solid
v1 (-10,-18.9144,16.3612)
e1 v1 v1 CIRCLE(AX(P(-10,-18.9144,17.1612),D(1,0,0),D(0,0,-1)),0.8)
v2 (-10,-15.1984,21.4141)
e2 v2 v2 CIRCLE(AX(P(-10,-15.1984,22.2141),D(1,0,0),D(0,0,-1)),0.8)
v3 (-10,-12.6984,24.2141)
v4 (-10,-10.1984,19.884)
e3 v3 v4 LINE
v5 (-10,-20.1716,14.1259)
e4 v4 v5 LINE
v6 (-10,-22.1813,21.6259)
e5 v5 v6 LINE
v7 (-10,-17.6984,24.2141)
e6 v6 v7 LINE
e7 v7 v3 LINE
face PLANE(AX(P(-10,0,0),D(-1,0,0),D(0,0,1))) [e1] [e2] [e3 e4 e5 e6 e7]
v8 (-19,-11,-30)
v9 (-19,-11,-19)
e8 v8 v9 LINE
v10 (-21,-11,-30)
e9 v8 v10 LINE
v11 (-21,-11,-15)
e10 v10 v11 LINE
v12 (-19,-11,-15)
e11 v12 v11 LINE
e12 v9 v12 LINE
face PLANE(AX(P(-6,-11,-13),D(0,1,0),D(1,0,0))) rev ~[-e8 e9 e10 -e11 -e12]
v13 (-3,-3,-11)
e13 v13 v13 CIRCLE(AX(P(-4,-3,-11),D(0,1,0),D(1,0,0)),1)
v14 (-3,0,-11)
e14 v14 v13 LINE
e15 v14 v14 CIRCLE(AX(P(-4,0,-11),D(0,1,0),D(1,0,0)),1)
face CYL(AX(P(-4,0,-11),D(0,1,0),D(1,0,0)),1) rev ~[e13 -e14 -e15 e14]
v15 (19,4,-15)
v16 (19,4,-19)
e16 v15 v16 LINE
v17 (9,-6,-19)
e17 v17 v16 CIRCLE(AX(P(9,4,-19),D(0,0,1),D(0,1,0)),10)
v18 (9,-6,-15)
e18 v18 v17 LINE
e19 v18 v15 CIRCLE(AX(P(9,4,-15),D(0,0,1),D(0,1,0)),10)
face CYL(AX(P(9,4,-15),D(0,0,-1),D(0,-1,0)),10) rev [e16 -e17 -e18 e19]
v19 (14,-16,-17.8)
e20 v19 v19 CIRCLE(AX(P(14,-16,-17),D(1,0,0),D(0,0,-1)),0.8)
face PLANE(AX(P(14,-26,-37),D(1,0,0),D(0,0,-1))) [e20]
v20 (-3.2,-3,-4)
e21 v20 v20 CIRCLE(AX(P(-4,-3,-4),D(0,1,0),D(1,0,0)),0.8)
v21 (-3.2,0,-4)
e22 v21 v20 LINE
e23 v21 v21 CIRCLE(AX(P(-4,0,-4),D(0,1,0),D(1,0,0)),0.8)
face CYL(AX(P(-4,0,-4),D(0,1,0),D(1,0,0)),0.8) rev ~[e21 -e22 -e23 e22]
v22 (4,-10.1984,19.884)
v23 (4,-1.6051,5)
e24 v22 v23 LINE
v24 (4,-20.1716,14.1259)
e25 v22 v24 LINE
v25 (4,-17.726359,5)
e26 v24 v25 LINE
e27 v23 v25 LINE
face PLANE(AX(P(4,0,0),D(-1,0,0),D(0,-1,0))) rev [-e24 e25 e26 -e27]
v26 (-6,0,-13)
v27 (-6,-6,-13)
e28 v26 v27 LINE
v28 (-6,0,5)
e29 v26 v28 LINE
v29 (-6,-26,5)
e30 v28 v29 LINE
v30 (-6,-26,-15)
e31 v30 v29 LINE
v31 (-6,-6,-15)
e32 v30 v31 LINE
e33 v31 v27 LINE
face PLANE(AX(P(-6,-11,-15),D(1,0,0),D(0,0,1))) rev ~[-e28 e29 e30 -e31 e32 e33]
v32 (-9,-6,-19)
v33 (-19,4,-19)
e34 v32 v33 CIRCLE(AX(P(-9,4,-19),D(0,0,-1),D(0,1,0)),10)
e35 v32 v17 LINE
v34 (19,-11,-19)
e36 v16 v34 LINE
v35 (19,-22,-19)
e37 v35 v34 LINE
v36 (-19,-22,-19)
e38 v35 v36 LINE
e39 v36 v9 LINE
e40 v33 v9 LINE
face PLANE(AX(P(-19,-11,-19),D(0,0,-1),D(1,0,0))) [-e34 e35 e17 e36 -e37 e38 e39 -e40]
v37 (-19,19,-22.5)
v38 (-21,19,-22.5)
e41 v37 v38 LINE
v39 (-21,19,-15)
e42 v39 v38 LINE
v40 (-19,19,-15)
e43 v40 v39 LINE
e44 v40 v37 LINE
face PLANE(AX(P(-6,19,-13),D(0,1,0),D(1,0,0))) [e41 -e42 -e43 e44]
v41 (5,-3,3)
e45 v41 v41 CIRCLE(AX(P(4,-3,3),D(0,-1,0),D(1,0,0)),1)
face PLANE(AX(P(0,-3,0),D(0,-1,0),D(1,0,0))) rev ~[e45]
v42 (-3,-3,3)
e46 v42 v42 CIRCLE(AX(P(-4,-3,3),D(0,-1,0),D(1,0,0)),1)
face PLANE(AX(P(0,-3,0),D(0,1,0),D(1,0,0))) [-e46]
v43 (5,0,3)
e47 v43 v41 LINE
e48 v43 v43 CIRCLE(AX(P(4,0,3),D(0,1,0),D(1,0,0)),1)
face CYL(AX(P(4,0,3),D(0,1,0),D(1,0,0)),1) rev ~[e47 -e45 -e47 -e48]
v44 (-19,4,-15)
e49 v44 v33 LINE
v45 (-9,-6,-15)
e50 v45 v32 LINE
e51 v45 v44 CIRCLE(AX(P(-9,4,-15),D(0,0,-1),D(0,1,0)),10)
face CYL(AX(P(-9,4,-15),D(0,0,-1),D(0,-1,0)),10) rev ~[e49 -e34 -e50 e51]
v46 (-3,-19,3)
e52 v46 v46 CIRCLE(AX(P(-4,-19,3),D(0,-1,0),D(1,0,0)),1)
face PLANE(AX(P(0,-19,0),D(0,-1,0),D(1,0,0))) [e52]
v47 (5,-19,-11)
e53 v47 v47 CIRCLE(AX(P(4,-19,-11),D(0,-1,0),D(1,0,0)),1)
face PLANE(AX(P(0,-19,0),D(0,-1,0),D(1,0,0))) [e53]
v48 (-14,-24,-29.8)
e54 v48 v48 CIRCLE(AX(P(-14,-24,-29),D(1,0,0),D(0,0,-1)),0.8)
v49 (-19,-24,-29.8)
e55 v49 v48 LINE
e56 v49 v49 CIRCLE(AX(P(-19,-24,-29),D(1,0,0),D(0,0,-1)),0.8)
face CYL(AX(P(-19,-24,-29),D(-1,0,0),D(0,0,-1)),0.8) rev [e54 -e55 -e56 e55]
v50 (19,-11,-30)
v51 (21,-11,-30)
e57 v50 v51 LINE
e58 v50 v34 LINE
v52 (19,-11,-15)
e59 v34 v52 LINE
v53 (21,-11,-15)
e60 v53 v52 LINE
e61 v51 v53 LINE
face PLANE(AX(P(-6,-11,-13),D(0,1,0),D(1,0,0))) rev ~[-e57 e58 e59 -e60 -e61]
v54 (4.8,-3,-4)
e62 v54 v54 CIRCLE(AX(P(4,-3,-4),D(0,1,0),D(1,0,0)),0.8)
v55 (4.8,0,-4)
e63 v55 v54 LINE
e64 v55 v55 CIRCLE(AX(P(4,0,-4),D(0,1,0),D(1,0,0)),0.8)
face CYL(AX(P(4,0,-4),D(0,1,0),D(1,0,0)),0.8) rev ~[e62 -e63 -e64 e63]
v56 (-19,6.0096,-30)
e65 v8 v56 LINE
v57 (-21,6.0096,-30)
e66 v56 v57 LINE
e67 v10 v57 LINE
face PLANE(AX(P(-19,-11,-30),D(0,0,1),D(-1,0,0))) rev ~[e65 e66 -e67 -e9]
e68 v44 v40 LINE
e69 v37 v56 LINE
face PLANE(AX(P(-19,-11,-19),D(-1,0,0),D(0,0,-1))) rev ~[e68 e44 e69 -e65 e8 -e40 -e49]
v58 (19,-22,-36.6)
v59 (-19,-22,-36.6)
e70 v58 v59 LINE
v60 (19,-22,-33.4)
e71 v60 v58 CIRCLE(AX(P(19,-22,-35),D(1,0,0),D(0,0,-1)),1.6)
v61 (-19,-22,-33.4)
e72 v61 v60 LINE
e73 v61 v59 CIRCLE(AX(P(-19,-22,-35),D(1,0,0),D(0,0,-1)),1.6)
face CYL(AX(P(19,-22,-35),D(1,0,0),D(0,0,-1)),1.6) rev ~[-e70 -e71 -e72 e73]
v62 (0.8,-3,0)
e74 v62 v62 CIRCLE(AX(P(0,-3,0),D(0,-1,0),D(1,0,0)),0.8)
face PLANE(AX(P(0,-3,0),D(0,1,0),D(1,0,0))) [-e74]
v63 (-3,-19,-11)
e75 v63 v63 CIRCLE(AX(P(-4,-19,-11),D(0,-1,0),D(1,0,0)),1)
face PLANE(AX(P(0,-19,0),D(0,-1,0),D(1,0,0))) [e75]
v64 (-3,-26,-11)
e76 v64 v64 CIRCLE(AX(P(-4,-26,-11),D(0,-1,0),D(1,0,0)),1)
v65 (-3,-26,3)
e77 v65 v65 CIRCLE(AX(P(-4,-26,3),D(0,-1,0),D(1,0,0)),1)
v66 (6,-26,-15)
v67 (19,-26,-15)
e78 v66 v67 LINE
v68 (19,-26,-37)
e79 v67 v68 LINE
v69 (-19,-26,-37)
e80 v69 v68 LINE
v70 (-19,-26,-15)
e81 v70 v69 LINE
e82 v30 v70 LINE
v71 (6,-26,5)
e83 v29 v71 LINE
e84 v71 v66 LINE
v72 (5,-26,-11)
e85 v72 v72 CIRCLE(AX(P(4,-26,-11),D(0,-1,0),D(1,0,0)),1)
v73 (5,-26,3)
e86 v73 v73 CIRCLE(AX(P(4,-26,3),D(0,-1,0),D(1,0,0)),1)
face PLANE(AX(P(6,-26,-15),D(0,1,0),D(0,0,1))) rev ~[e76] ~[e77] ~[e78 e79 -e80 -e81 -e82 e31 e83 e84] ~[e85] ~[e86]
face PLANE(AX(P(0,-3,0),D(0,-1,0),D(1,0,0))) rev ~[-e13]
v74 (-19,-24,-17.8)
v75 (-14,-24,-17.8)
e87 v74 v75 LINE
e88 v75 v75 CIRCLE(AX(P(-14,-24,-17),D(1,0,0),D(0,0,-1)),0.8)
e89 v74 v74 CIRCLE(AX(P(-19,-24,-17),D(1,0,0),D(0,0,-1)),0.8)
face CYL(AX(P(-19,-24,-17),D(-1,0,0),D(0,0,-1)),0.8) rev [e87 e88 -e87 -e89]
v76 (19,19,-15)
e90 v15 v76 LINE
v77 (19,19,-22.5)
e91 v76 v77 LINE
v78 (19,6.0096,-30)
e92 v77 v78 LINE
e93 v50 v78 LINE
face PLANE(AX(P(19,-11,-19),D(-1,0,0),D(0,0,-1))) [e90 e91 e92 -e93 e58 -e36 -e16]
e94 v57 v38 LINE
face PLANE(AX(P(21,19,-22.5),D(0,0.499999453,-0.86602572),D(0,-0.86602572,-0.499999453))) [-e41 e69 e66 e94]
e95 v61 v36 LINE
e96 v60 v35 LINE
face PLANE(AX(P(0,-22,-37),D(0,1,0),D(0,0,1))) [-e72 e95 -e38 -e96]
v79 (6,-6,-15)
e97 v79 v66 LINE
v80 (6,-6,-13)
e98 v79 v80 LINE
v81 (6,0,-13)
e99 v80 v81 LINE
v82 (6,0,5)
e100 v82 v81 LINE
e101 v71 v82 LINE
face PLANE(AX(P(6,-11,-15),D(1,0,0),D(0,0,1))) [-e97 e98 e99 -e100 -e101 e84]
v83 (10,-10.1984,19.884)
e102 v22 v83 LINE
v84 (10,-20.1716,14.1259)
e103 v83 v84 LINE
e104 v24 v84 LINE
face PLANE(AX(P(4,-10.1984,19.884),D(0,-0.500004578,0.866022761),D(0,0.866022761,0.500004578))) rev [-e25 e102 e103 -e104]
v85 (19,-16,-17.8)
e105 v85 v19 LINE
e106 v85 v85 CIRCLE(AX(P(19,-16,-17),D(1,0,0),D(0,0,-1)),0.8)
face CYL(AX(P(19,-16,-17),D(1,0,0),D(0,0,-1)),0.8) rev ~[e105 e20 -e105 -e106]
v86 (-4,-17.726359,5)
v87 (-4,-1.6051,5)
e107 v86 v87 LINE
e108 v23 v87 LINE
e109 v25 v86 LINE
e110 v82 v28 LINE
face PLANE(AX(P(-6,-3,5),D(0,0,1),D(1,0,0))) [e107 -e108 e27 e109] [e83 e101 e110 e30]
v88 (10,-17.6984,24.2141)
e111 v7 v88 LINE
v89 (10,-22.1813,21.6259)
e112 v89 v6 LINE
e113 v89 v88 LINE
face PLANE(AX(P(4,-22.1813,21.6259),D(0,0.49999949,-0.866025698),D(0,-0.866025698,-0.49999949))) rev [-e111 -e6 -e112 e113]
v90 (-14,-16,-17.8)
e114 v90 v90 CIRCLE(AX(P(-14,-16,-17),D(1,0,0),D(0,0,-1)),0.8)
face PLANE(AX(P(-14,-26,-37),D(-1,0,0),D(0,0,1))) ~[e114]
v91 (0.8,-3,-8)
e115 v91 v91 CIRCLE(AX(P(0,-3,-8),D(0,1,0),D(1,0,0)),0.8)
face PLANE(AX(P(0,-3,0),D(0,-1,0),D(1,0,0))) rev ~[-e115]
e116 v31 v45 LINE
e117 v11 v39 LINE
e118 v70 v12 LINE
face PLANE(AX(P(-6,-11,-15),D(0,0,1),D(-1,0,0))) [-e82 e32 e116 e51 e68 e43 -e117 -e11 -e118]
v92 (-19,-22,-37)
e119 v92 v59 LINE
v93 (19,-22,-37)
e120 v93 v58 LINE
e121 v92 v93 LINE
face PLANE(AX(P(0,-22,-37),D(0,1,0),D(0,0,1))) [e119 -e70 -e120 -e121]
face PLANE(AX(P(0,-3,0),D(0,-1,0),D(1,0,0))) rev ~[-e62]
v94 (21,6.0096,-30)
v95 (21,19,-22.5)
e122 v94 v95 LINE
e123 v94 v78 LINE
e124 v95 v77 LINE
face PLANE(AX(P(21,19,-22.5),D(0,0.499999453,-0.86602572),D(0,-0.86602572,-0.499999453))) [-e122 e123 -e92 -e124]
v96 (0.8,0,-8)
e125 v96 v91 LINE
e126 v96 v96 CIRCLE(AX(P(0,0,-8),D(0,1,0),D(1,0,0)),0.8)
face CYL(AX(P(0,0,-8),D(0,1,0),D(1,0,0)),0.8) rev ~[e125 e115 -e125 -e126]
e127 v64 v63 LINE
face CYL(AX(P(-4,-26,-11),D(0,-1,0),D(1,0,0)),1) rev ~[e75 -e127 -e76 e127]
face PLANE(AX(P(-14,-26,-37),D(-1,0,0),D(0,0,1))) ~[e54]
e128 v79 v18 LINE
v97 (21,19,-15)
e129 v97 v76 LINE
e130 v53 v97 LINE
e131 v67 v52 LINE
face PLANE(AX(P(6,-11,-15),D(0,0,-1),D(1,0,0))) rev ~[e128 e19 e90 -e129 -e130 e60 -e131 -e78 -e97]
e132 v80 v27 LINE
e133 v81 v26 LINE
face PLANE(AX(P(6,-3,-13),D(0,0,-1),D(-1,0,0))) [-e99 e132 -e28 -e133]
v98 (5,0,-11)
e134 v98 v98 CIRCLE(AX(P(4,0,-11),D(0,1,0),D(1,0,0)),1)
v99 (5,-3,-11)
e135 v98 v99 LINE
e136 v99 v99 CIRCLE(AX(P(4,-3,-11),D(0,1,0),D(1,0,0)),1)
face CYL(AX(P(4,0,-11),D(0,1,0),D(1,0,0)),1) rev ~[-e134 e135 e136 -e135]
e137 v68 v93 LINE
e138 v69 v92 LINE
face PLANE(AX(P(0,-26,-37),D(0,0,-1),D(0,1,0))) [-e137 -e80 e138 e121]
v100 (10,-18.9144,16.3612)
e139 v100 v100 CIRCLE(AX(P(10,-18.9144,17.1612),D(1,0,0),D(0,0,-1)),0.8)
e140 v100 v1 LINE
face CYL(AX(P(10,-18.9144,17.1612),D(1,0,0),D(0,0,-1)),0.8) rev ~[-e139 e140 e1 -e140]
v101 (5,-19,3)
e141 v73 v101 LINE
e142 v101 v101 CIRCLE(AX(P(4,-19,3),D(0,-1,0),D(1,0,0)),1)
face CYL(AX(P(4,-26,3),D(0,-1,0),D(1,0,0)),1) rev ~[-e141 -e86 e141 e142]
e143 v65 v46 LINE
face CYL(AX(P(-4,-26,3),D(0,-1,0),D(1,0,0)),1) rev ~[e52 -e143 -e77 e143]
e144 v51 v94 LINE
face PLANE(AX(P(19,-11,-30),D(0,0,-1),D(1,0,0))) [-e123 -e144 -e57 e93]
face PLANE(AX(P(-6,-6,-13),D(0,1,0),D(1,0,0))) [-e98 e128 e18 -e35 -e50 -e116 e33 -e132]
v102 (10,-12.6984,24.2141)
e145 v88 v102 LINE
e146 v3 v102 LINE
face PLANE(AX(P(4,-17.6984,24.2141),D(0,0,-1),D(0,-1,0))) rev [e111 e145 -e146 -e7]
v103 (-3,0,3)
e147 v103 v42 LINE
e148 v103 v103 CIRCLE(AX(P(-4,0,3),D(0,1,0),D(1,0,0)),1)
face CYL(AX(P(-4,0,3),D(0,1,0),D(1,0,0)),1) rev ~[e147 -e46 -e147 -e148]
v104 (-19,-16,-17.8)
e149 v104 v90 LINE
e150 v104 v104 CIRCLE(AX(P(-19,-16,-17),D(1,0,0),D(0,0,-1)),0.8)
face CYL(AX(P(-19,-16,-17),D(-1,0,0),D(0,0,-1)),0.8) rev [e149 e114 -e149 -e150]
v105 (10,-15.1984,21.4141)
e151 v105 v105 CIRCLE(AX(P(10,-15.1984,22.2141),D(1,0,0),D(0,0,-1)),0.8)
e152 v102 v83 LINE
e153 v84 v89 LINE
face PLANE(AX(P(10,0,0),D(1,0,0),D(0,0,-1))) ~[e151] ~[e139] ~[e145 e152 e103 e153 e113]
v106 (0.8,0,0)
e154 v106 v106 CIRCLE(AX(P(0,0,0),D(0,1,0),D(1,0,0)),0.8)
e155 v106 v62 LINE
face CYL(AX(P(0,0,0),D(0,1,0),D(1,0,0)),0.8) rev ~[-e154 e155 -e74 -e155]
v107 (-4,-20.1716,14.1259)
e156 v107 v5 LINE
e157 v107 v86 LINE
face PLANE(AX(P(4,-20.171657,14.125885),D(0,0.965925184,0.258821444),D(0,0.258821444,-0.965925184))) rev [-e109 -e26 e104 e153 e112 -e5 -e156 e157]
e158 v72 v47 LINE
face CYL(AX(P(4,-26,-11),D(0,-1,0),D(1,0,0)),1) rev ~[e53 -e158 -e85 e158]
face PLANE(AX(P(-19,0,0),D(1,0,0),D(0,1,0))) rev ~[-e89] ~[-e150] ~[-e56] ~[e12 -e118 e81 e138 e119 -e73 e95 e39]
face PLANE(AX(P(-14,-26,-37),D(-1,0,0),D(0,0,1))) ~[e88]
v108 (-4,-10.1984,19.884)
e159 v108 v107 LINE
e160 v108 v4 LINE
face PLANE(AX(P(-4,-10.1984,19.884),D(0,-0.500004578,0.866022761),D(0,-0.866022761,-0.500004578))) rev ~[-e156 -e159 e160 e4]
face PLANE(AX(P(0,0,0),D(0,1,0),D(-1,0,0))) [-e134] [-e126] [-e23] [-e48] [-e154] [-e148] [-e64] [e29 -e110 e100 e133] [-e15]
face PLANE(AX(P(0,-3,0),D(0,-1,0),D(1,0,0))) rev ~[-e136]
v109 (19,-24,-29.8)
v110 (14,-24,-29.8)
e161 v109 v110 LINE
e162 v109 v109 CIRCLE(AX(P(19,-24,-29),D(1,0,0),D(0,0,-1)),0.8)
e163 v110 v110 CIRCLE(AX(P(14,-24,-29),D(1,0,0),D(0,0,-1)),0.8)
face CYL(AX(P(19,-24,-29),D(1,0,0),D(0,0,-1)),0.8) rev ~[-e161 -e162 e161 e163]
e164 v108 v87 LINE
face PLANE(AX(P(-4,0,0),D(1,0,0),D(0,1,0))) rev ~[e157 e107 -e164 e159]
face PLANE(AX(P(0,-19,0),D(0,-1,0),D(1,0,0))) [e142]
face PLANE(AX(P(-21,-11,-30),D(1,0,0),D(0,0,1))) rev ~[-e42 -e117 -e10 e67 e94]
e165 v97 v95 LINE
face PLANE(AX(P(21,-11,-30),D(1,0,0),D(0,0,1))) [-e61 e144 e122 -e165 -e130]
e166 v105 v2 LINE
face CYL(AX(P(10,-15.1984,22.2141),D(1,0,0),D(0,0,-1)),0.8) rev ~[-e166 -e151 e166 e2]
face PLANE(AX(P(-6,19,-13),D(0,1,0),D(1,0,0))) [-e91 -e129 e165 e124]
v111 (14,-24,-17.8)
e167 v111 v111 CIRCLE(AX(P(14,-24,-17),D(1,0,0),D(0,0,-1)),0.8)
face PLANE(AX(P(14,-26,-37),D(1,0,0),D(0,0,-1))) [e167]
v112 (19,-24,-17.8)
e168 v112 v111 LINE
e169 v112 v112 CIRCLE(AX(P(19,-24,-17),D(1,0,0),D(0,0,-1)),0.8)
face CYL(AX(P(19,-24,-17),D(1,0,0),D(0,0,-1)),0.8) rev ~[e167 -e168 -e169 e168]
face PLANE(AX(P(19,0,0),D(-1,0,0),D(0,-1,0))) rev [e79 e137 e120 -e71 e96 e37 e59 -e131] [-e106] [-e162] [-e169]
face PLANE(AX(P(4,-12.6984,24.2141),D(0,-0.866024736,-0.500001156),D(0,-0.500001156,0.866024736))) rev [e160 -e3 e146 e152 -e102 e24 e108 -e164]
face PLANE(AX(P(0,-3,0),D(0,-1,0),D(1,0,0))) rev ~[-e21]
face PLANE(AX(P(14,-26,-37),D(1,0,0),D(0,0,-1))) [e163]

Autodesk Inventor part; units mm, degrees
ref_plane "YZ Plane" through (0, 0, 0) normal (1, 0, 0) x (0, 1, 0)
ref_plane "XZ Plane" through (0, 0, 0) normal (0, 1, 0) x (-1, 0, 0)
ref_plane "XY Plane" through (0, 0, 0) normal (0, 0, 1) x (1, 0, 0)
sketch "スケッチ1" plane through (0, 0, 0) normal (0, 1, 0) x (-1, 0, 0)
  line L0 (-6, -13) -> (6, -13)
  line L1 (6, -13) -> (6, 13)
  line L2 (6, 13) -> (-6, 13)
  line L3 (-6, 13) -> (-6, -13)
  line L4 (-6, -13) -> (6, 13) construction
  line L5 (6, -13) -> (-6, 13) construction
  line L6 (6, 13) -> (-6, 13)
  line L7 (-6, 13) -> (-6, 5)
  line L8 (-6, 5) -> (6, 5)
  line L9 (6, 5) -> (6, 13)
  point P0 (0, 0)
  point P1 (0, 13)
  point P2 (-6, 13)
  point P3 (6, 5)
  dimension "d0" = 12
  dimension "d1" = 26
  dimension "d26" = 12
  dimension "d27" = 8
extrude "押し出し1" add sketch "スケッチ1" against normal blind 3 contours L3 L8 L1 L0
sketch "スケッチ5" plane through (0, 0, 0) normal (1, 0, 0) x (0, 1, 0)
  line L0 (-3, 5) -> (-3, -13) projected
  line L1 (-3, 5) -> (-3, 13)
  line L2 (-1.6051, 5) -> (-12.6984, 24.2141)
  line L3 (-12.6984, 24.2141) -> (-17.6984, 24.2141)
  line L4 (-16.3866, 0) -> (-3, 0)
  line L5 (0, 5) -> (-3, 5) projected
  line L6 (-17.6984, 24.2141) -> (-22.1813, 21.6259)
  line L7 (-22.1813, 21.6259) -> (-16.3866, 0)
  line L8 (-12.6984, 24.2141) -> (-8.3683, 26.7141) construction
  line L9 (-8.3683, 26.7141) -> (-7.6183, 25.4151) construction
  circle A0 centre (-7.6183, 25.4151) radius 1 construction
  line L10 (36.5, 48) -> (-6.3683, 23.25) construction
  line L11 (0, 13) -> (36.5, 13) construction
  line L12 (0, -13) -> (0, 5) projected
  line L13 (-3, 5) -> (-1.6051, 5)
  point P0 (0, 0)
  dimension "d28" = 8
  dimension "d29" = 120
  dimension "d31" = 5
  dimension "d32" = 5
  dimension "d35" = 5
  dimension "d36" = 150
  dimension "d37" = 75
  dimension "d47" = 5
  dimension "d48" = 1.5
  dimension "d49" = 2
  dimension "d50" = 2.5
  dimension "d51" = 49.5
  dimension "d53" = 8
  dimension "d54" = 36.5
  dimension "d55" = 35
extrude "押し出し5" add sketch "スケッチ5" against normal blind 4
sketch "スケッチ6" plane through (-4, 0, 0) normal (-1, 0, 0) x (0, 0, 1)
  line L0 (0, -3) -> (0, -16.3866) projected
  line L1 (0, -16.3866) -> (21.6259, -22.1813) projected
  line L2 (21.6259, -22.1813) -> (24.2141, -17.6984) projected
  line L3 (24.2141, -17.6984) -> (24.2141, -12.6984) projected
  line L4 (24.2141, -12.6984) -> (5, -1.6051) projected
  line L5 (0, -3) -> (5, -3) projected
  line L6 (19.884, -10.1984) -> (14.1259, -20.1716)
  line L7 (24.2141, -12.6984) -> (5.604, -1.9538) projected
  line L8 (5, -3) -> (5, -1.6051) projected
  point P0 (0, 0)
  dimension "d38" = 5
extrude "押し出し6" add sketch "スケッチ6" along normal blind 6 contours L6 L4 L3 L2 L1
mirror "ミラー3" about plane through (0, -11.8932, 12.1071) normal (1, 0, 0) of "押し出し5", "押し出し6"
sketch "スケッチ7" plane through (0, 0, 0) normal (0, 1, 0) x (1, 0, 0)
  circle A0 centre (4, -3) radius 1 projected
  circle A1 centre (-4, 11) radius 1 projected
  circle A2 centre (0, 0) radius 0.8 projected
  circle A3 centre (0, 8) radius 0.8 projected
  circle A4 centre (-4, 4) radius 0.8 projected
  circle A5 centre (4, 4) radius 0.8 projected
  circle A6 centre (4, 11) radius 1 projected
  circle A7 centre (-4, -3) radius 1 projected
  line L0 (6, -8) -> (6, -10) projected
  line L1 (30, -13) -> (9, -13) projected
  line L2 (33, -9.25) -> (33, -10) projected
  arc A8 (30, 6.25) -> (30, -6.25) centre (30, 0) ccw projected
  line L3 (33, 10) -> (33, 9.25) projected
  line L4 (-30, 13) -> (30, 13) projected
  line L5 (-33, -10) -> (-33, -9.25) projected
  arc A9 (-30, -6.25) -> (-30, 6.25) centre (-30, 0) ccw projected
  line L6 (-33, 9.25) -> (-33, 10) projected
  line L7 (-9, -13) -> (-30, -13) projected
  line L8 (-6, -10) -> (-6, -8) projected
  line L9 (-3, -5) -> (3, -5) projected
  line L10 (21.75, 7.5) -> (21.75, -7.5) projected
  line L11 (18.75, -10.5) -> (14, -10.5) projected
  line L12 (11, -7.5) -> (11, 7.5) projected
  line L13 (14, 10.5) -> (18.75, 10.5) projected
  circle A10 centre (9, 10.5) radius 0.85 projected
  circle A11 centre (30, -10.5) radius 0.85 projected
  circle A12 centre (-30, -10.5) radius 0.85 projected
  circle A13 centre (-9, 10.5) radius 0.85 projected
  circle A14 centre (-30, 10.5) radius 0.85 projected
  circle A15 centre (-9, -10.5) radius 0.85 projected
  circle A16 centre (9, -10.5) radius 0.85 projected
  circle A17 centre (30, 10.5) radius 0.85 projected
  line L14 (-11, 7.5) -> (-11, -7.5) projected
  line L15 (-14, -10.5) -> (-18.75, -10.5) projected
  line L16 (-21.75, -7.5) -> (-21.75, 7.5) projected
  line L17 (-18.75, 10.5) -> (-14, 10.5) projected
  arc A18 (-30, 13) -> (-33, 10) centre (-30, 10) ccw projected
  arc A19 (-33, 9.25) -> (-30, 6.25) centre (-30, 9.25) ccw projected
  arc A20 (-30, -6.25) -> (-33, -9.25) centre (-30, -9.25) ccw projected
  arc A21 (-33, -10) -> (-30, -13) centre (-30, -10) ccw projected
  arc A22 (-9, -13) -> (-6, -10) centre (-9, -10) ccw projected
  arc A23 (-3, -5) -> (-6, -8) centre (-3, -8) ccw projected
  arc A24 (6, -8) -> (3, -5) centre (3, -8) ccw projected
  arc A25 (6, -10) -> (9, -13) centre (9, -10) ccw projected
  arc A26 (30, -13) -> (33, -10) centre (30, -10) ccw projected
  arc A27 (33, -9.25) -> (30, -6.25) centre (30, -9.25) ccw projected
  arc A28 (30, 6.25) -> (33, 9.25) centre (30, 9.25) ccw projected
  arc A29 (33, 10) -> (30, 13) centre (30, 10) ccw projected
  arc A30 (-14, -10.5) -> (-11, -7.5) centre (-14, -7.5) ccw projected
  arc A31 (-21.75, -7.5) -> (-18.75, -10.5) centre (-18.75, -7.5) ccw projected
  arc A32 (-18.75, 10.5) -> (-21.75, 7.5) centre (-18.75, 7.5) ccw projected
  arc A33 (-11, 7.5) -> (-14, 10.5) centre (-14, 7.5) ccw projected
  arc A34 (18.75, -10.5) -> (21.75, -7.5) centre (18.75, -7.5) ccw projected
  arc A35 (11, -7.5) -> (14, -10.5) centre (14, -7.5) ccw projected
  arc A36 (14, 10.5) -> (11, 7.5) centre (14, 7.5) ccw projected
  arc A37 (21.75, 7.5) -> (18.75, 10.5) centre (18.75, 7.5) ccw projected
  point P0 (0, 0)
extrude "押し出し7" cut sketch "スケッチ7" against normal up to surface (3 mm away) contours A0 | A1 | A2 | A3 | A4 | A5 | A6 | A7
sketch "スケッチ8" plane through (0, -3, 0) normal (0, -1, 0) x (1, 0, 0)
  line L0 (-6, 5) -> (6, 5) projected
  line L1 (-6, -13) -> (-6, 5) projected
  line L2 (6, -13) -> (-6, -13) projected
  line L3 (6, 5) -> (6, -13) projected
  point P0 (0, 0)
extrude "押し出し8" add sketch "スケッチ8" along normal blind 23
sketch "スケッチ9" plane through (0, -26, 0) normal (0, -1, 0) x (1, 0, 0)
  circle A0 centre (-4, 3) radius 1 projected
  circle A1 centre (4, 3) radius 1 projected
  circle A2 centre (4, -11) radius 1 projected
  circle A3 centre (4, -11) radius 1 projected
  circle A4 centre (-4, -11) radius 1 projected
  circle A5 centre (-4, -11) radius 1 projected
  point P0 (0, 0)
extrude "押し出し9" cut sketch "スケッチ9" against normal blind 7
sketch "スケッチ10" plane through (10, -17.6984, 24.2141) normal (1, 0, 0) x (0, 0, -1)
  circle A0 centre (2, 2.5) radius 1 construction
  circle A1 centre (7.0529, -1.216) radius 1 construction
  circle A2 centre (2, 2.5) radius 0.8
  circle A3 centre (7.0529, -1.216) radius 0.8
  point P0 (24.2141, 17.6984)
  dimension "d56" = 1.6
  dimension "d57" = 1.6
extrude "押し出し10" cut sketch "スケッチ10" against normal through all
sketch "スケッチ11" plane through (6, 0, 5) normal (1, 0, 0) x (0, 0, -1)
  line L0 (18, 0) -> (18, -26) projected
  line L1 (18, -11) -> (20, -11)
  line L2 (20, -11) -> (20, -26)
  line L3 (20, -26) -> (18, -26)
  line L4 (18, -26) -> (18, -11)
  line L5 (18, -26) -> (0, -26) projected
  point P0 (5, 0)
  dimension "d60" = 15
  dimension "d61" = 2
extrude "押し出し11" add sketch "スケッチ11" against normal up to surface (12 mm away)
sketch "スケッチ12" plane through (0, 0, 0) normal (1, 0, 0) x (0, 1, 0)
  line L0 (-26, -15) -> (-11, -15) projected
  line L1 (-11, -15) -> (-26, -15)
  line L2 (-26, -15) -> (-26, -19)
  line L3 (-26, -19) -> (-11, -19)
  line L4 (-11, -19) -> (-11, -15)
  line L5 (-22, -19) -> (-26, -19)
  line L6 (-26, -19) -> (-26, -37)
  line L7 (-26, -37) -> (-22, -37)
  line L8 (-22, -37) -> (-22, -19)
  line L9 (-26, 5) -> (-26, -15) projected
  point P0 (0, 0)
  dimension "d64" = 4
  dimension "d65" = 4
  dimension "d66" = 18
extrude "押し出し12" add sketch "スケッチ12" against normal blind 19
mirror "ミラー4" about plane through (0, -18.5, -26) normal (1, 0, 0) of "押し出し12"
sketch "スケッチ13" plane through (-6, -11, -13) normal (0, 1, 0) x (1, 0, 0)
  line L0 (-15, 6) -> (27, 6)
  line L1 (27, 6) -> (27, 2)
  line L2 (27, 2) -> (-15, 2)
  line L3 (-15, 2) -> (-15, 6)
  line L4 (0, 2) -> (-13, 2) projected
  line L5 (-13, 6) -> (25, 6) projected
  line L6 (25, 2) -> (25, 6) projected
  line L7 (-15, 2) -> (-13, 2)
  line L8 (-13, 2) -> (-13, 17)
  line L9 (-13, 17) -> (-15, 17)
  line L10 (-15, 17) -> (-15, 2)
  line L11 (27, 2) -> (25, 2)
  line L12 (25, 2) -> (25, 17)
  line L13 (25, 17) -> (27, 17)
  line L14 (27, 17) -> (27, 2)
  line L15 (-13, 2) -> (-13, 6) projected
  point P0 (6, -13)
  point P1 (25, 6)
  point P2 (27, 6)
  point P3 (-13, 2)
  point P4 (-15, 6)
  dimension "d75" = 2
  dimension "d76" = 2
  dimension "d77" = 15
extrude "押し出し13" add sketch "スケッチ13" along normal blind 30 contours L10 L9 L8 L0 | L0 L8 L2 L3 | L12 L13 L14 L0 | L0 L1 L2 L6
sketch "スケッチ14" plane through (-6, -11, -13) normal (0, 1, 0) x (1, 0, 0)
  line L0 (0, 2) -> (0, 0) projected
  line L1 (12, 0) -> (0, 0) projected
  line L2 (12, 2) -> (12, 0) projected
  line L3 (12, 2) -> (25, 2) projected
  line L4 (25, 2) -> (25, 6) projected
  line L5 (-13, 6) -> (25, 6) projected
  line L6 (-13, 2) -> (-13, 6) projected
  line L7 (0, 2) -> (-13, 2) projected
  point P0 (6, -13)
extrude "押し出し14" add sketch "スケッチ14" along normal blind 5
fillet "フィレット1" radius 10 2 edges at (-19, -6, -17) (19, -6, -17)
sketch "スケッチ16" plane through (21, -11, -15) normal (1, 0, 0) x (0, 0, -1)
  line L0 (15, 30) -> (0, 30) projected
  line L1 (7.5, 30) -> (15, 17.0096)
  line L2 (15, 0) -> (15, 30) projected
  point P0 (-15, 11)
  dimension "d85" = 120
extrude "押し出し16" cut sketch "スケッチ16" along normal through all both and the other way through all
sketch "スケッチ17" plane through (19, -26, -37) normal (1, 0, 0) x (0, 0, -1)
  circle A0 centre (-2, 4) radius 1.6 projected
  point P0 (-37, 26)
extrude "押し出し17" cut sketch "スケッチ17" against normal through all
sketch "スケッチ18" plane through (19, -26, -37) normal (1, 0, 0) x (0, 0, -1)
  circle A0 centre (-20, 10) radius 0.8
  circle A1 centre (-20, 2) radius 0.8
  circle A2 centre (-8, 2) radius 0.8
  line L0 (-22, 0) -> (-22, 15) projected
  line L1 (0, 0) -> (-22, 0) projected
  point P0 (-37, 26)
  dimension "d90" = 1.6
  dimension "d91" = 1.6
  dimension "d92" = 1.6
  dimension "d93" = 2
  dimension "d94" = 2
  dimension "d95" = 8
  dimension "d96" = 12
extrude "押し出し18" cut sketch "スケッチ18" against normal blind 5
mirror "ミラー5" about plane through (0, 0, 0) normal (1, 0, 0) of "押し出し18"
equation "\"d76\" = d75"
properties part number "hipjoint_middle"
